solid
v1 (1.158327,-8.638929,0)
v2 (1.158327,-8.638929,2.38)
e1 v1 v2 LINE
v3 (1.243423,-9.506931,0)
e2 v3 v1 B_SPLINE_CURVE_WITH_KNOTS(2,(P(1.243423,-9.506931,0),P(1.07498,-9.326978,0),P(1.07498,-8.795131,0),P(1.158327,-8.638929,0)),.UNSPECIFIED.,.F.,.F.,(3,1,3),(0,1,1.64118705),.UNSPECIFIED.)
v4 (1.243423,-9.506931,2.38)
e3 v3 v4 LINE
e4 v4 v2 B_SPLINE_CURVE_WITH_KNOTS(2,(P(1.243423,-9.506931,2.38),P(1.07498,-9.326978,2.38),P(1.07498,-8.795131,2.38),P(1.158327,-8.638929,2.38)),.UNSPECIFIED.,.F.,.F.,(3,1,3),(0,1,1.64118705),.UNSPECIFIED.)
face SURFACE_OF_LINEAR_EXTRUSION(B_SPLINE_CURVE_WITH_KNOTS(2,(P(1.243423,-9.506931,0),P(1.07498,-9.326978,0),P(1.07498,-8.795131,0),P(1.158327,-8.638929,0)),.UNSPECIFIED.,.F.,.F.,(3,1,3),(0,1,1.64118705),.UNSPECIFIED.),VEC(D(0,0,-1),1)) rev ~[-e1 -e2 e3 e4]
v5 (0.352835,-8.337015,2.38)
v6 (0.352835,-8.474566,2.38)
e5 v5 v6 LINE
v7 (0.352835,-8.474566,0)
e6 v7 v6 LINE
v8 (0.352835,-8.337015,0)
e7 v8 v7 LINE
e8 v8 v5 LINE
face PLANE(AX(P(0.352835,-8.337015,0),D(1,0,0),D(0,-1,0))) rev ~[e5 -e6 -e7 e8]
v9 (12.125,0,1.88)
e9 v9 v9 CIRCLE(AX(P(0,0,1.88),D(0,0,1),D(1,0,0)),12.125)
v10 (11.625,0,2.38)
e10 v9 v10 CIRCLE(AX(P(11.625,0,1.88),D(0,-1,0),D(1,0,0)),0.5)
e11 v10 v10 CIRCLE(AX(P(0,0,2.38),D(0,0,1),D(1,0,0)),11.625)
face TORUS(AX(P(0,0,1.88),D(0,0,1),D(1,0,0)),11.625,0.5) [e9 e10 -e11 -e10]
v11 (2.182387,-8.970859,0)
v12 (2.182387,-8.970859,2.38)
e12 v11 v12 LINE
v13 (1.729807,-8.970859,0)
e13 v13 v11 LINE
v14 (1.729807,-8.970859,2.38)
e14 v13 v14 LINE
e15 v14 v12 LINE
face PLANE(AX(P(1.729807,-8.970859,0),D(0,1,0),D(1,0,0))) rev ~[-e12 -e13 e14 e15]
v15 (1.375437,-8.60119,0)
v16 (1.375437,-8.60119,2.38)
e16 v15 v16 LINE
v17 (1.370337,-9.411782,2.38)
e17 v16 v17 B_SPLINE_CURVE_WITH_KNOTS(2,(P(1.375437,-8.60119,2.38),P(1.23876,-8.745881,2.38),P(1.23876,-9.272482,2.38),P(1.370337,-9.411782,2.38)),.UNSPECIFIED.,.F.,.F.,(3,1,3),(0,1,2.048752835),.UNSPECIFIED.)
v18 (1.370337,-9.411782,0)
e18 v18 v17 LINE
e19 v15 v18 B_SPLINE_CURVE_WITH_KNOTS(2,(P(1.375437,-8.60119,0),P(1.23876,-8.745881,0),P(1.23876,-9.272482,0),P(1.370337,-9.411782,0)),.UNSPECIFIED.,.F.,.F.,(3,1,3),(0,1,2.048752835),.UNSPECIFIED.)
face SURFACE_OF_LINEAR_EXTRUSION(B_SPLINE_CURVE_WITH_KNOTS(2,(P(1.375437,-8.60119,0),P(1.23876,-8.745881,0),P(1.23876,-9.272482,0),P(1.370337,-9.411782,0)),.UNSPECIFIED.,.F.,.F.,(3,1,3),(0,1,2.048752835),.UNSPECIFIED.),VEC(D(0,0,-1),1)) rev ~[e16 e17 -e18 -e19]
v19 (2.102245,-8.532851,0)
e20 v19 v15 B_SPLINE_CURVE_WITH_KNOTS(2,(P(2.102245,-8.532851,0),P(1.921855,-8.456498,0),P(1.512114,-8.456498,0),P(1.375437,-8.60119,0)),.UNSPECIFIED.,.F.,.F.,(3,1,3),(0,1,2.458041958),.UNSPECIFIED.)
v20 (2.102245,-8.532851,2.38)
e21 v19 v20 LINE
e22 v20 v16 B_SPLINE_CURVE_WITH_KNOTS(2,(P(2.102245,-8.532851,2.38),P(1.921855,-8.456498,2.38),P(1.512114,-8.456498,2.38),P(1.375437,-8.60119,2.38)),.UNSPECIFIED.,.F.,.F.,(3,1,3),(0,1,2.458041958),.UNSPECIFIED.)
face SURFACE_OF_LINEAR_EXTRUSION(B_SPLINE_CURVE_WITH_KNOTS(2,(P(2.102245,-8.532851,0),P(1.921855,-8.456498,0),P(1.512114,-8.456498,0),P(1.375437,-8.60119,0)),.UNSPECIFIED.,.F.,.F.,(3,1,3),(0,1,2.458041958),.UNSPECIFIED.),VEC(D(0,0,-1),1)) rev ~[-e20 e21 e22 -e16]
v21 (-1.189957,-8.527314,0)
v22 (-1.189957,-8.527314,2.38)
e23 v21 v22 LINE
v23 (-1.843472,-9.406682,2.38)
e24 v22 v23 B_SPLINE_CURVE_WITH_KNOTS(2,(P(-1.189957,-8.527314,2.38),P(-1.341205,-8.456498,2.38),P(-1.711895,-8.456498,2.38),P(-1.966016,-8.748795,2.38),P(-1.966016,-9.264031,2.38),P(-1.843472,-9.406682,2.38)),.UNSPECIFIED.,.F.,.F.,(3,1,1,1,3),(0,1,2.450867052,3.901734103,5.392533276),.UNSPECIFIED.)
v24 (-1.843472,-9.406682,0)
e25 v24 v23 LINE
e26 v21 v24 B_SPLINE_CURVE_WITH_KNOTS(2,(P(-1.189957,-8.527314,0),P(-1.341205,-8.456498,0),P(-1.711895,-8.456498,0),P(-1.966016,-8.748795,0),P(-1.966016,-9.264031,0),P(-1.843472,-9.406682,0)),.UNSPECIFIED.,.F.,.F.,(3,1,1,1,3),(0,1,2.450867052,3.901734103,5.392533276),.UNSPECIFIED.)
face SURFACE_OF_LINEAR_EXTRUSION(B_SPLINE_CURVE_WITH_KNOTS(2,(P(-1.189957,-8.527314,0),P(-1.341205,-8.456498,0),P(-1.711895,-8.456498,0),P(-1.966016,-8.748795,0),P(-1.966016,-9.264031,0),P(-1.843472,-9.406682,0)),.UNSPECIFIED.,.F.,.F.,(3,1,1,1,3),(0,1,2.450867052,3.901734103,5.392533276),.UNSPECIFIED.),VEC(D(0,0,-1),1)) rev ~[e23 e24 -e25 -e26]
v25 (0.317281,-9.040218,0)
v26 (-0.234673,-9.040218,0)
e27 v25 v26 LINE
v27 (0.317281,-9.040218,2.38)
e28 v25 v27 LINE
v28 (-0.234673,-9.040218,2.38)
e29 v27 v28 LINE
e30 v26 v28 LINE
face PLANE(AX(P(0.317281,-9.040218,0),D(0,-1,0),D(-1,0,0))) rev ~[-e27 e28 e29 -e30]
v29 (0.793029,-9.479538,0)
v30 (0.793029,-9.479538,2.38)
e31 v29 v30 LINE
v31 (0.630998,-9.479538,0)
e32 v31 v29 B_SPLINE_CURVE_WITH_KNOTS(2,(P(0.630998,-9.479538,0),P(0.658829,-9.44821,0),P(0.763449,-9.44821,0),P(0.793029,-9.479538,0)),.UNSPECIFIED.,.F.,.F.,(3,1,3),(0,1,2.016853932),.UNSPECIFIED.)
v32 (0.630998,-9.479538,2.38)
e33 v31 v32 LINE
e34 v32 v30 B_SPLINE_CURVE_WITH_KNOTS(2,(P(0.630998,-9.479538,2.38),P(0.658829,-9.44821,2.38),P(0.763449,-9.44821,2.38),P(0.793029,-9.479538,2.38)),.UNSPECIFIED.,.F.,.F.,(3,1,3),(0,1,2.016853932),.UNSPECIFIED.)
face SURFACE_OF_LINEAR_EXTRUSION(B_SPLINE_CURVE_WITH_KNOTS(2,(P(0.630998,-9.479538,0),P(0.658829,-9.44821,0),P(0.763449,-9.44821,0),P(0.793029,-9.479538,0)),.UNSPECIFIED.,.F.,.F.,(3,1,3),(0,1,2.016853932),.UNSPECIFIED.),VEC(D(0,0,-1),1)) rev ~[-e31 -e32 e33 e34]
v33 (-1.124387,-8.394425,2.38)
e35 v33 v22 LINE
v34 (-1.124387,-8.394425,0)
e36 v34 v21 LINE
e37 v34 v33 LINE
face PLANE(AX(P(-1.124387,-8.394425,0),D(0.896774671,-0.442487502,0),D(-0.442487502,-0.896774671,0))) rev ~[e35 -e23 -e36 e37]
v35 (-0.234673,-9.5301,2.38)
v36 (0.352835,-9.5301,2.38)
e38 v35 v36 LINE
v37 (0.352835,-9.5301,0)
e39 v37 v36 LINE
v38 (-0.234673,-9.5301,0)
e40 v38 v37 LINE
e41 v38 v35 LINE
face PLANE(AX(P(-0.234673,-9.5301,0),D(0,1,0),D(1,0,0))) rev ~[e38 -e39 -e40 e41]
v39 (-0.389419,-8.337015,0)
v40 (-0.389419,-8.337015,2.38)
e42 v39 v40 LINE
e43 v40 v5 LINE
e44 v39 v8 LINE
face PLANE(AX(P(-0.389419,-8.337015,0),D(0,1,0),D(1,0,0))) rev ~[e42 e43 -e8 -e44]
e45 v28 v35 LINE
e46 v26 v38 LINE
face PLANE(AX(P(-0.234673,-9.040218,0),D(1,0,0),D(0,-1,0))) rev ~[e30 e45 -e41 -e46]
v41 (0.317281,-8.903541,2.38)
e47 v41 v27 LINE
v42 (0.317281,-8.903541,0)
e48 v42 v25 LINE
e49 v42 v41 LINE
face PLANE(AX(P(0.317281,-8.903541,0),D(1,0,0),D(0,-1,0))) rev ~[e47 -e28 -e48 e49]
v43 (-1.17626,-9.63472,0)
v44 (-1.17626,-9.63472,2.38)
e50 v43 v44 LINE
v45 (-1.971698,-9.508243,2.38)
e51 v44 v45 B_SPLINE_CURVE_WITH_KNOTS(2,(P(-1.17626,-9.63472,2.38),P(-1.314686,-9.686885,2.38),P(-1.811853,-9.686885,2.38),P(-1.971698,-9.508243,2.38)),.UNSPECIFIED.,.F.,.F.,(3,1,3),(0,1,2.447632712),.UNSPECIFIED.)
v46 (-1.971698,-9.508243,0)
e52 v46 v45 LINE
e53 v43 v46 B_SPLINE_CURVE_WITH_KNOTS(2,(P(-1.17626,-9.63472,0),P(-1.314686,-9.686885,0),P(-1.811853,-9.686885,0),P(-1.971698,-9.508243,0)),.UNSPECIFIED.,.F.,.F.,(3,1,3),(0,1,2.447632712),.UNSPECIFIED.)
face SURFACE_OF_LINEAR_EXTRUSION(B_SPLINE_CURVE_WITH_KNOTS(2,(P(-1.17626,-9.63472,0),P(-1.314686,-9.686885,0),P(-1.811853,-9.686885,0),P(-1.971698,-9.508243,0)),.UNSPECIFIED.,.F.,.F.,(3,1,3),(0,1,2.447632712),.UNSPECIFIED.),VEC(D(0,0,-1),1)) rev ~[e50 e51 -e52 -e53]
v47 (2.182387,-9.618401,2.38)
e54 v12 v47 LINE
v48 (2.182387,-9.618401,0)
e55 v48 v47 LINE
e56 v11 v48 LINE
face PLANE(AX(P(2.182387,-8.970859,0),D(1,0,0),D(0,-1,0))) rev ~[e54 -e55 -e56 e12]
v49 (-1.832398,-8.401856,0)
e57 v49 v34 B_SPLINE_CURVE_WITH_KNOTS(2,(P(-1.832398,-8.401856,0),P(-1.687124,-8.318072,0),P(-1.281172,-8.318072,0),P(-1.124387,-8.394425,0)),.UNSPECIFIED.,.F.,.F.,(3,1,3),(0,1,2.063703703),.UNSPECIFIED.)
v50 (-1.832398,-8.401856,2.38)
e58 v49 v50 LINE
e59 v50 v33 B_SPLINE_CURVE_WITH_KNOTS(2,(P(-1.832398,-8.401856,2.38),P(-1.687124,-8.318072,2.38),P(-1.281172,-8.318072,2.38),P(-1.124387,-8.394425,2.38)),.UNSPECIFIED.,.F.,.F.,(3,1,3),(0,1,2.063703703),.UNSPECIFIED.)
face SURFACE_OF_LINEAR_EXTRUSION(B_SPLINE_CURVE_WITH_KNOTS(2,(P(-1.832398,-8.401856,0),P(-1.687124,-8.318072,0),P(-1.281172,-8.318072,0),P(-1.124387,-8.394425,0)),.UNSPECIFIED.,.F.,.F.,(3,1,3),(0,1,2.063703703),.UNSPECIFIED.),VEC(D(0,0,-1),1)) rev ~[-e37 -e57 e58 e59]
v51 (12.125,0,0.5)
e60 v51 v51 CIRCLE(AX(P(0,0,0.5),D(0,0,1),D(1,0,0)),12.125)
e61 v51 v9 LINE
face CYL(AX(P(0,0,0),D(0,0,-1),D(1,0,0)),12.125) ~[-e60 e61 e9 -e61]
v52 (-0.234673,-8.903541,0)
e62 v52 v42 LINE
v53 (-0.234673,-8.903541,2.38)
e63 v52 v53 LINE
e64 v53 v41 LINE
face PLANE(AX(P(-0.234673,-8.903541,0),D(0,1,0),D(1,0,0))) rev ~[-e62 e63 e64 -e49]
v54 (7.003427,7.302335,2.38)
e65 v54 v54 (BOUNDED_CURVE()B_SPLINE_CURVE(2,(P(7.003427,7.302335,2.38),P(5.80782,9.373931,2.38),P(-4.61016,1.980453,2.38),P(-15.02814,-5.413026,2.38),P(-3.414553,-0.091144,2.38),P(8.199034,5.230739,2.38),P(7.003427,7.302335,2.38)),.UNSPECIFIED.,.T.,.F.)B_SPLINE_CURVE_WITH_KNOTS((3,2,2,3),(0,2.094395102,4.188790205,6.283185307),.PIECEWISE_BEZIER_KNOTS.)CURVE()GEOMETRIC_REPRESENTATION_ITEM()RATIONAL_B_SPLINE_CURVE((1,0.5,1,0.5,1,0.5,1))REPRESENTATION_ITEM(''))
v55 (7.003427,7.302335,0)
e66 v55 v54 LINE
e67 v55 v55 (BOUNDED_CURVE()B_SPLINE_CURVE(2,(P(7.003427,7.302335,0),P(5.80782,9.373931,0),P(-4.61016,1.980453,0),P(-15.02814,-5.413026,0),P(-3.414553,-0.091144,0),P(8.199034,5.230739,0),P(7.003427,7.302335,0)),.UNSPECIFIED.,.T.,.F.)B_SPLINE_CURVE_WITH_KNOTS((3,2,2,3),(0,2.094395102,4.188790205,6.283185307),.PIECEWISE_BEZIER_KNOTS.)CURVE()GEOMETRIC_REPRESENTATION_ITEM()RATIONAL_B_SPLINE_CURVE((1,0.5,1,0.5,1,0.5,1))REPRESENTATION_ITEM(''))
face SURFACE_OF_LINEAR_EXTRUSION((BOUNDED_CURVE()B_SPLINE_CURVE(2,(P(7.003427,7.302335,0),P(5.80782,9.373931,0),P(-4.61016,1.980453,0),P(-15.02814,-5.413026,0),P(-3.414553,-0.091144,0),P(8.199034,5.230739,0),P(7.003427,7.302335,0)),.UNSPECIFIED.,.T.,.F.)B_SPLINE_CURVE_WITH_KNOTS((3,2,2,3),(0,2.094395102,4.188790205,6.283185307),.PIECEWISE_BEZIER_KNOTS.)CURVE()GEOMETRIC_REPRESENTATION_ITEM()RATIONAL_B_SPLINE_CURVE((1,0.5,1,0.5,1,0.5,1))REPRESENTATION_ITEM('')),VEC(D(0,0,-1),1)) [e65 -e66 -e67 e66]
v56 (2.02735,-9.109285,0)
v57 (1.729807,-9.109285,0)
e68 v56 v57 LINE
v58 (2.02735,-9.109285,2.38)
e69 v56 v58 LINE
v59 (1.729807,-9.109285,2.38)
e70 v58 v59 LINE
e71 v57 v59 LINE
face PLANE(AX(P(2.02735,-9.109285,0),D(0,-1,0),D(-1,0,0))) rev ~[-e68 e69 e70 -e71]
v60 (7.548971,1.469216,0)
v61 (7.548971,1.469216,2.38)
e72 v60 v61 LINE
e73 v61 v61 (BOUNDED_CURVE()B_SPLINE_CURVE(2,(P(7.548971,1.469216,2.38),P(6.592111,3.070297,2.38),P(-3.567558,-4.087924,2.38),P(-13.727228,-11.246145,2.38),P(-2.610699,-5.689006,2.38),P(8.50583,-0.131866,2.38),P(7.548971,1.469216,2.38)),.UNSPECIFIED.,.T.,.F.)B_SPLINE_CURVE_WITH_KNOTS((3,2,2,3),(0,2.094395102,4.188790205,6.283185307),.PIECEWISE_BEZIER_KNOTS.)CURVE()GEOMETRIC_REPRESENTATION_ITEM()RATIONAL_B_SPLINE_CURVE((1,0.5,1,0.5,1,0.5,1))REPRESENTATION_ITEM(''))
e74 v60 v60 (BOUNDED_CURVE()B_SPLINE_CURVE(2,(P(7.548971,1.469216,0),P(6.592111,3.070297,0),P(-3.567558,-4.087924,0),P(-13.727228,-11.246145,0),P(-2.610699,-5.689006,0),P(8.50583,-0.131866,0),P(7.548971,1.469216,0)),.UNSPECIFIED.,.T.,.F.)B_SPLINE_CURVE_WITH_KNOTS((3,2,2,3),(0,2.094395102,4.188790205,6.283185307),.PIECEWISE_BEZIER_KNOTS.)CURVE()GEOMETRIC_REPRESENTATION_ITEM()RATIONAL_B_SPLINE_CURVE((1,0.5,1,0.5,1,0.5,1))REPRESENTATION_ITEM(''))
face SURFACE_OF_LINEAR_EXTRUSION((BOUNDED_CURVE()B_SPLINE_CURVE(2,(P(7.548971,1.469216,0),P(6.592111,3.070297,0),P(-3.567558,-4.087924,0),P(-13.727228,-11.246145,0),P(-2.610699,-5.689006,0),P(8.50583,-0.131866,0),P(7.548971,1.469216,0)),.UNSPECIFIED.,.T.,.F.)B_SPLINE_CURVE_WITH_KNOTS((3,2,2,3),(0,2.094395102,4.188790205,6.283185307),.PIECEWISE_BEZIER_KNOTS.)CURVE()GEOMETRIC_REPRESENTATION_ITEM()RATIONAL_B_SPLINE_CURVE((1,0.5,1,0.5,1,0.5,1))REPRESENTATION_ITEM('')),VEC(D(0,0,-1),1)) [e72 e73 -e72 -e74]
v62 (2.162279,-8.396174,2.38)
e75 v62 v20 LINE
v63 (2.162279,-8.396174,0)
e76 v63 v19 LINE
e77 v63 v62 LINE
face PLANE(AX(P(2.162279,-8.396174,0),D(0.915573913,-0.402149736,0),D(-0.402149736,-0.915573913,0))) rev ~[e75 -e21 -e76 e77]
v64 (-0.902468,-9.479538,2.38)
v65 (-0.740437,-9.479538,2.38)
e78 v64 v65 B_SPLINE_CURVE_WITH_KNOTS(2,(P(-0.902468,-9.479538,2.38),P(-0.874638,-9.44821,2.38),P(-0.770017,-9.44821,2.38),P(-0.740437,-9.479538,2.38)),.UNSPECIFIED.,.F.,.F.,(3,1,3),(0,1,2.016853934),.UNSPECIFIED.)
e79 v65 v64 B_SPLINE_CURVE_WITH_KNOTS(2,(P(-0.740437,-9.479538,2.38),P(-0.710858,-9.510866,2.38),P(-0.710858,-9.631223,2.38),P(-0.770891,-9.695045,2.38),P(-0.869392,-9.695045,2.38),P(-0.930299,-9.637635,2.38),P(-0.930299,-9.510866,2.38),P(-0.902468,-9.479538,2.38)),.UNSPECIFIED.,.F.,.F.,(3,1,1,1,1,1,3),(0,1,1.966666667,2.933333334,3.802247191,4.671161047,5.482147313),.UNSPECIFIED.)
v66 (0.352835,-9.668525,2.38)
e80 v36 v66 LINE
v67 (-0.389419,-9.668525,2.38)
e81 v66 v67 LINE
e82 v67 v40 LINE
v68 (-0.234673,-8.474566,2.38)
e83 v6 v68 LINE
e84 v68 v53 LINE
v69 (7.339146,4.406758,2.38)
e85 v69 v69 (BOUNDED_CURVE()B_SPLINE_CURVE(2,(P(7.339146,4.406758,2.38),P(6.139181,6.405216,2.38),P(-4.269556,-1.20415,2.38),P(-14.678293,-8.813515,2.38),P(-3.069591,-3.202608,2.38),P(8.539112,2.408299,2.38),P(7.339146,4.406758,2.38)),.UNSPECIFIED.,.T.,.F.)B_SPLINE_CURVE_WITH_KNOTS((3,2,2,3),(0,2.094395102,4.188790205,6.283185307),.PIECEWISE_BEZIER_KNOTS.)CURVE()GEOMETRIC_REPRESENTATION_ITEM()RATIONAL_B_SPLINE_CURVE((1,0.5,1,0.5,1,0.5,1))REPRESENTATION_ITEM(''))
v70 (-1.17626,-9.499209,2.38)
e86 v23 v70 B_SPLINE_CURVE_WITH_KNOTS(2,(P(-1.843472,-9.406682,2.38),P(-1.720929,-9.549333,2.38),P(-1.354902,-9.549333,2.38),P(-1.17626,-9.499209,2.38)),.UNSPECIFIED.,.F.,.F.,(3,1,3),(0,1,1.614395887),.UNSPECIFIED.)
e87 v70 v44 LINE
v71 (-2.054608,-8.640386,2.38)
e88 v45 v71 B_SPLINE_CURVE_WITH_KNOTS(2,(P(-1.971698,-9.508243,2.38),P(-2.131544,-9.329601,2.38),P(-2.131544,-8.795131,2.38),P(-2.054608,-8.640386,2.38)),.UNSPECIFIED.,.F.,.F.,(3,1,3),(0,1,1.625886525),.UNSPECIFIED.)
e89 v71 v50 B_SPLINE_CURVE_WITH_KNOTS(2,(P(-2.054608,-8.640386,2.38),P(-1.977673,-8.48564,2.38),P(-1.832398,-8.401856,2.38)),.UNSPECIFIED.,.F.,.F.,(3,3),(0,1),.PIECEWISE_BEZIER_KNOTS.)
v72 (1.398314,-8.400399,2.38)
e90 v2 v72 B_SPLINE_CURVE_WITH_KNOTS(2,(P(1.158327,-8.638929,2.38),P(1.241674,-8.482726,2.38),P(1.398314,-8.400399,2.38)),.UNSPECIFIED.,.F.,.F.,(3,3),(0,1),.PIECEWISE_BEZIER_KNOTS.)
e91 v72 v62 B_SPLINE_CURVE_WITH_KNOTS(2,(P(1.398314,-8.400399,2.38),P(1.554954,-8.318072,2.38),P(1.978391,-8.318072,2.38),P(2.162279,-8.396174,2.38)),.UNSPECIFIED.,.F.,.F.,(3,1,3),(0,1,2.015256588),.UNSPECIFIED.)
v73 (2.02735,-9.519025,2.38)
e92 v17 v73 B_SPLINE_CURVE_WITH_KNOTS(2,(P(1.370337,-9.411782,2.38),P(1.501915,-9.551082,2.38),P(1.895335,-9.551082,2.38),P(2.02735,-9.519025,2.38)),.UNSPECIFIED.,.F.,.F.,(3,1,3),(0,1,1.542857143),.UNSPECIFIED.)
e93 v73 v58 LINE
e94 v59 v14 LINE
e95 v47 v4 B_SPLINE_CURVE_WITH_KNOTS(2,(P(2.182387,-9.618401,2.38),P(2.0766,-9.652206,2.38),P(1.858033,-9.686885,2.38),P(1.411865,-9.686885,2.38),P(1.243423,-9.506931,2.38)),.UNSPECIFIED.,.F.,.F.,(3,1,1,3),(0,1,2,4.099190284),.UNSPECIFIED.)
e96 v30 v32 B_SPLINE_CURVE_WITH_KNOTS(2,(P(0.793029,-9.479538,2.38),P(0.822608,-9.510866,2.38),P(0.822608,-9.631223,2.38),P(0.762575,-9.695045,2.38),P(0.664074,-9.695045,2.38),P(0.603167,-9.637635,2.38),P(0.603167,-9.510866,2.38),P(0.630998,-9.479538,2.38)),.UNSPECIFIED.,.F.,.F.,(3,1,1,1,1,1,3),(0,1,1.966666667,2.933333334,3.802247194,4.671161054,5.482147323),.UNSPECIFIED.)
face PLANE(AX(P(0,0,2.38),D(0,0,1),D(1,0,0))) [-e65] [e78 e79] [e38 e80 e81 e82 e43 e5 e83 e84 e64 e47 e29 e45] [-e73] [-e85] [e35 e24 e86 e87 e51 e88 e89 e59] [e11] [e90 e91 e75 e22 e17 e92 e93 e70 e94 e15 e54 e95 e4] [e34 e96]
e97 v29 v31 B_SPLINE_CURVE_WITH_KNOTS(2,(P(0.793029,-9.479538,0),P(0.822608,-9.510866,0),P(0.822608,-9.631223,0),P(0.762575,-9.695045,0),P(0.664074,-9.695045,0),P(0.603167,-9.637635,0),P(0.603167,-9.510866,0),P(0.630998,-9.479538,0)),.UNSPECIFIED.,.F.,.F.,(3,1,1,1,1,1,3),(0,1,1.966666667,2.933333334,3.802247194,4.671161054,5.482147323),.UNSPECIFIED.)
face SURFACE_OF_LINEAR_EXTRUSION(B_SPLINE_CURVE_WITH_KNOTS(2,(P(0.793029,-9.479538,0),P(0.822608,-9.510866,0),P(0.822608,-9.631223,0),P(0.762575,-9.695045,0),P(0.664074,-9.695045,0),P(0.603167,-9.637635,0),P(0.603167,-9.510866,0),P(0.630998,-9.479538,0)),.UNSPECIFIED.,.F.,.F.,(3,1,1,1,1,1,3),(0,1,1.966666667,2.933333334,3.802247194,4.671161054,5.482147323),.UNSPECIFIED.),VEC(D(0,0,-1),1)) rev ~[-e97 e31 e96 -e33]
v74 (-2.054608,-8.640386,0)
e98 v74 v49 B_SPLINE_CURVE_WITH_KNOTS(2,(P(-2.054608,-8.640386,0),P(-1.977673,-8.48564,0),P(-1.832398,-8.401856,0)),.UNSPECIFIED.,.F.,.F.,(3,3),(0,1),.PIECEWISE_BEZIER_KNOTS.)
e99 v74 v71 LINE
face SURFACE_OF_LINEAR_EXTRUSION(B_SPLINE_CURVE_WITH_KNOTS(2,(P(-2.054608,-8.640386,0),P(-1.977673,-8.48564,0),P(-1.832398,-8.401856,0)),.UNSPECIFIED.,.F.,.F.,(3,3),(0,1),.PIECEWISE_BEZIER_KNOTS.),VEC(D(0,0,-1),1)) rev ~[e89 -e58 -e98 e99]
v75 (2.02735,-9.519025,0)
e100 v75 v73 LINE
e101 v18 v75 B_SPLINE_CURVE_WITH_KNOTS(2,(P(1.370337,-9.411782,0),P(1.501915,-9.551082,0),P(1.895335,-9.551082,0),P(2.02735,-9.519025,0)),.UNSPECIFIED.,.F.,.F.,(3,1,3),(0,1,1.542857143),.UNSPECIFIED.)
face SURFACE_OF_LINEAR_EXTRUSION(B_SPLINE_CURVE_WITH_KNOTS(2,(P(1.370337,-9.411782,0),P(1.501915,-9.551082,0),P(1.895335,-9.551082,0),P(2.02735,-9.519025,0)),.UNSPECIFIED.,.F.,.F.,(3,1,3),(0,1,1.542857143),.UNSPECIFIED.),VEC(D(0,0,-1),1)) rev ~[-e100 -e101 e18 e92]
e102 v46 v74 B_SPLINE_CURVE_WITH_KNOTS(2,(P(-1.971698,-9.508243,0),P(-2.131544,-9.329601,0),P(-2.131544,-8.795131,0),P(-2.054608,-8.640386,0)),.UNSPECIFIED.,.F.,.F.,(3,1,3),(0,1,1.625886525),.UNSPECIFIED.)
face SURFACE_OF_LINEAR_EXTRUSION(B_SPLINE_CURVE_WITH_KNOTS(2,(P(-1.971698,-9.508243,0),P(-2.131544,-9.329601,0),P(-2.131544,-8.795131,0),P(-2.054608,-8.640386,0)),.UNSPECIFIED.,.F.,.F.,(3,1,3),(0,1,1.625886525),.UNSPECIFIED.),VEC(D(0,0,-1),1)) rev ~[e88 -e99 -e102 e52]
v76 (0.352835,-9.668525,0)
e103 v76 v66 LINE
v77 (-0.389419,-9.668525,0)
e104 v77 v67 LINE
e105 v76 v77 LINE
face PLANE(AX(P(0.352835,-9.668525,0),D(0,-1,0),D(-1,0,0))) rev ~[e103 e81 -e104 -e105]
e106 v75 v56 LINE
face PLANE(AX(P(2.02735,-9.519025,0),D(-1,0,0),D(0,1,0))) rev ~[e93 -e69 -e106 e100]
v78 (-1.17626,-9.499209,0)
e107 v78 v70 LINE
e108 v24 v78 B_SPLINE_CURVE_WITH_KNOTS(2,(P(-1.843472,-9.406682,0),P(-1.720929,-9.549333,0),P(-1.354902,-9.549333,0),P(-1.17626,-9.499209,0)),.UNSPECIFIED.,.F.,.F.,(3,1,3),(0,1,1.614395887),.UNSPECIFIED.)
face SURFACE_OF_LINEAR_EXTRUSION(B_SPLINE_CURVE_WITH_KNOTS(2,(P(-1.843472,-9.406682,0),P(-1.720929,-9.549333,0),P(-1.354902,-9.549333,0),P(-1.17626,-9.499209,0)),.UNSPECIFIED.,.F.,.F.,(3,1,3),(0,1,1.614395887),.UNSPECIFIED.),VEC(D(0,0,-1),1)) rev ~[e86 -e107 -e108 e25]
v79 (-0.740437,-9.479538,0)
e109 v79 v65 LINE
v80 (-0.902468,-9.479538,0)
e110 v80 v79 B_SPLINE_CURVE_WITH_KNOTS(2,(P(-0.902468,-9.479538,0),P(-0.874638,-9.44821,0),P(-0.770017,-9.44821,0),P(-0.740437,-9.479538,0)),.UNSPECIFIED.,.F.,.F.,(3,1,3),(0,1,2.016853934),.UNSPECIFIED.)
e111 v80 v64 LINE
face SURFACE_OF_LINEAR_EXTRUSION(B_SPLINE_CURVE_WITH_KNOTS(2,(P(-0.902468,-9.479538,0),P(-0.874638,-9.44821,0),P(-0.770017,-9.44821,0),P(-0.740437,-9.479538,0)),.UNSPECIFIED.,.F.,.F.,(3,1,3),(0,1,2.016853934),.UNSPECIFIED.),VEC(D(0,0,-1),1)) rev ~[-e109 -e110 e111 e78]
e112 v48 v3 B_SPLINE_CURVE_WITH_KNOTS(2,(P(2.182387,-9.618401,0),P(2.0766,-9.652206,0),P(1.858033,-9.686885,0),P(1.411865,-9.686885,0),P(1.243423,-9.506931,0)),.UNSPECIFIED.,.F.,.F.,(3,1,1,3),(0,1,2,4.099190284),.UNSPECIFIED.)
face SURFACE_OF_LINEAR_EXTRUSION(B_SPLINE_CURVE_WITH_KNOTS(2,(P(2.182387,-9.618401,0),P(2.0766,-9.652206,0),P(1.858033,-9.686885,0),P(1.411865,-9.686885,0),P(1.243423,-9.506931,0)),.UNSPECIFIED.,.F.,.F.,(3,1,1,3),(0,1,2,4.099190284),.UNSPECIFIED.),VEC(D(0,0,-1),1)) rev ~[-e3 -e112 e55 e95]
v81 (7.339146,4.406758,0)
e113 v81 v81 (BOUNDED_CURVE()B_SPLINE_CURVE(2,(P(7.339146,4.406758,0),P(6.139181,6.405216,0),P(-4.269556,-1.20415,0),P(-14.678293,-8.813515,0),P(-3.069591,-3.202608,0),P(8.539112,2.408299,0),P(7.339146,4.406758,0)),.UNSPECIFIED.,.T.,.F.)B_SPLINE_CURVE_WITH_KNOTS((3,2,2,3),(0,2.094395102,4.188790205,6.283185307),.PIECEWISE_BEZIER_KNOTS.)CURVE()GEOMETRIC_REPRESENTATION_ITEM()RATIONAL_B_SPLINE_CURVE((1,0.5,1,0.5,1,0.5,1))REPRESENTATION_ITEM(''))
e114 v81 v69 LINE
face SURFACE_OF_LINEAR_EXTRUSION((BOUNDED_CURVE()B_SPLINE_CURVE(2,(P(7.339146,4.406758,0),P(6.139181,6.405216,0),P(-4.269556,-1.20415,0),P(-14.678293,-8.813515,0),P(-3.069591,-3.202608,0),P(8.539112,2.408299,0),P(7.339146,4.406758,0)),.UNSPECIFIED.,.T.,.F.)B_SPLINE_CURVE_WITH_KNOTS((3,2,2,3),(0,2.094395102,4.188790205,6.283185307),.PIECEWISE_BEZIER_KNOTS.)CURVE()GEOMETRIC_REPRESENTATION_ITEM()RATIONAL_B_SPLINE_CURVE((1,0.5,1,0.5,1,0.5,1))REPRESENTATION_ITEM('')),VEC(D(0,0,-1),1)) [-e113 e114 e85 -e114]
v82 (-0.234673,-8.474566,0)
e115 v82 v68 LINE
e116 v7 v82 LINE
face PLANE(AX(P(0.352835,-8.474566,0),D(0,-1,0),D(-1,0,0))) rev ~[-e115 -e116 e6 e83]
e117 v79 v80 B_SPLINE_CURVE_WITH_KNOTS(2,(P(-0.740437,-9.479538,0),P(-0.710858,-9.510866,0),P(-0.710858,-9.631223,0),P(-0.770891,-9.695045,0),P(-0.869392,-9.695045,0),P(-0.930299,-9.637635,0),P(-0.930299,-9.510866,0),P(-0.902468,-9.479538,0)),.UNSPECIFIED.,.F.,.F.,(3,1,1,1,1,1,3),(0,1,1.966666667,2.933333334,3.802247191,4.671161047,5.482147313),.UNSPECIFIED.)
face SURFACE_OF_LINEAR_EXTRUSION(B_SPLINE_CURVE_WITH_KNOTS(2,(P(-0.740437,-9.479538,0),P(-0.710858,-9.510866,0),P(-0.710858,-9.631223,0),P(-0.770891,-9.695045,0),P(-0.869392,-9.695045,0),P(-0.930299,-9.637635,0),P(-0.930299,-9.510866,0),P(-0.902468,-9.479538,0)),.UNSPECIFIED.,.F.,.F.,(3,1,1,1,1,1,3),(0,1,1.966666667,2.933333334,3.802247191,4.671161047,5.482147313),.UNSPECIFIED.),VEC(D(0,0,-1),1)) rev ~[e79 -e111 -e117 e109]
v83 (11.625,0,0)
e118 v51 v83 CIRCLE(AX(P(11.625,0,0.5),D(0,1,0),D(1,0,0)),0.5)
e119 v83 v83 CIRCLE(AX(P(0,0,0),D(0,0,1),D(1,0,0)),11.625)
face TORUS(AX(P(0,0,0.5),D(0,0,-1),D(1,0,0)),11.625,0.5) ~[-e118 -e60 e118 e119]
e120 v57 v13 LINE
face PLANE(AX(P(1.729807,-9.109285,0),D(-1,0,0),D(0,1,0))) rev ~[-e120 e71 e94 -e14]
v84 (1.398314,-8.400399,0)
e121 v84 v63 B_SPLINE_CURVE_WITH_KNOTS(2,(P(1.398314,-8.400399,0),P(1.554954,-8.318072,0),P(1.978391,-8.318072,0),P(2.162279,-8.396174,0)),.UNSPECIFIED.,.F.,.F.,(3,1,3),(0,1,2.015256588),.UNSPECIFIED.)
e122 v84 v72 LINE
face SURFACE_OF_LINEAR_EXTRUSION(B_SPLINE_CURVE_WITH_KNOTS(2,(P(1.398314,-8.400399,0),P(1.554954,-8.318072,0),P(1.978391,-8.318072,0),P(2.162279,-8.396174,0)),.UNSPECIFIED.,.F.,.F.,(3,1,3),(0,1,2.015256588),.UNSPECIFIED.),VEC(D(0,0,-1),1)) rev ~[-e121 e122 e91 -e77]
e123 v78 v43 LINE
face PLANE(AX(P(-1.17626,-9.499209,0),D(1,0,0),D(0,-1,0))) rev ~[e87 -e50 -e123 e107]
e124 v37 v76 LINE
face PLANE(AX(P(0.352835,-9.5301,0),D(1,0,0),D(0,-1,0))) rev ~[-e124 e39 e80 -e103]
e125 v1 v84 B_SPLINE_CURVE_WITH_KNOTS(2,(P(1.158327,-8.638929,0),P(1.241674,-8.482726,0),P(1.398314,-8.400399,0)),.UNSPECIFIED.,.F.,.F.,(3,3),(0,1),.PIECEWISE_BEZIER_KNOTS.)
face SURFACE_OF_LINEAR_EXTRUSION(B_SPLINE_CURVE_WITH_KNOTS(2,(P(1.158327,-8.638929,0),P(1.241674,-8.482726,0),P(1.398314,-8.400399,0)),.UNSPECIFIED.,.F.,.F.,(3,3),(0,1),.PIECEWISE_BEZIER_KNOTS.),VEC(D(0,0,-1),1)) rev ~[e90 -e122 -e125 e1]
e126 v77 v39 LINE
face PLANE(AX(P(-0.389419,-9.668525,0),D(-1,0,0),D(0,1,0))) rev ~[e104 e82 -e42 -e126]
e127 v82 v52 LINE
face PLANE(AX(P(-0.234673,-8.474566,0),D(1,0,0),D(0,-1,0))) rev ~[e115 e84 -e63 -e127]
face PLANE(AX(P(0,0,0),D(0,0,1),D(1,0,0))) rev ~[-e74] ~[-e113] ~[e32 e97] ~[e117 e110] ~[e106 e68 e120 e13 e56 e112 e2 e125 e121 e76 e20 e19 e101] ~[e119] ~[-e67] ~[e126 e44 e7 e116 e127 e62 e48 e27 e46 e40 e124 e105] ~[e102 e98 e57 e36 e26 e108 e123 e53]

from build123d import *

# Parameters (mm, degrees)
F1_R     = 12.125
F2_DEPTH = 2.38
F3_R     = 0.5


with BuildPart() as f2:
    # F1 (on Top) → F2 (new body)
    with BuildSketch(Plane.XY):
        Circle(F1_R)
        with BuildLine():
            add(Edge.make_bspline(
                [(-0.8998456912, -9.666339638), (-0.9302993652, -9.6376345003), (-0.9302993652, -9.5720643888)],
                knots=[0, 0, 0, 1, 1, 1], degree=2))
            add(Edge.make_bspline(
                [(-0.9302993652, -9.5720643888), (-0.9302993652, -9.5108656181), (-0.9024684956, -9.479537676)],
                knots=[0, 0, 0, 1, 1, 1], degree=2))
            add(Edge.make_bspline(
                [(-0.9024684956, -9.479537676), (-0.8746376261, -9.4482097338), (-0.8227643824, -9.4482097338)],
                knots=[0, 0, 0, 1, 1, 1], degree=2))
            add(Edge.make_bspline(
                [(-0.8227643824, -9.4482097338), (-0.7700168705, -9.4482097338), (-0.7404374646, -9.479537676)],
                knots=[0, 0, 0, 1, 1, 1], degree=2))
            add(Edge.make_bspline(
                [(-0.7404374646, -9.479537676), (-0.7108580588, -9.5108656181), (-0.7108580588, -9.5720643888)],
                knots=[0, 0, 0, 1, 1, 1], degree=2))
            add(Edge.make_bspline(
                [(-0.7108580588, -9.5720643888), (-0.7108580588, -9.6312232005), (-0.7408745987, -9.6631339881)],
                knots=[0, 0, 0, 1, 1, 1], degree=2))
            add(Edge.make_bspline(
                [(-0.7408745987, -9.6631339881), (-0.7708911386, -9.6950447757), (-0.8227643824, -9.6950447757)],
                knots=[0, 0, 0, 1, 1, 1], degree=2))
            add(Edge.make_bspline(
                [(-0.8227643824, -9.6950447757), (-0.8693920172, -9.6950447757), (-0.8998456912, -9.666339638)],
                knots=[0, 0, 0, 1, 1, 1], degree=2))
        make_face(mode=Mode.SUBTRACT)
        with BuildLine():
            add(Edge.make_bspline(
                [(-1.1899570066, -8.527313946), (-1.3412053971, -8.4564982256), (-1.4924537876, -8.4564982256)],
                knots=[0, 0, 0, 1, 1, 1], degree=2))
            add(Edge.make_bspline(
                [(-1.4924537876, -8.4564982256), (-1.711895094, -8.4564982256), (-1.8389553989, -8.6026467185)],
                knots=[0, 0, 0, 1, 1, 1], degree=2))
            add(Edge.make_bspline(
                [(-1.8389553989, -8.6026467185), (-1.9660157038, -8.7487952114), (-1.9660157038, -9.0029158212)],
                knots=[0, 0, 0, 1, 1, 1], degree=2))
            add(Edge.make_bspline(
                [(-1.9660157038, -9.0029158212), (-1.9660157038, -9.2640305763), (-1.843472451, -9.4066819966)],
                knots=[0, 0, 0, 1, 1, 1], degree=2))
            add(Edge.make_bspline(
                [(-1.843472451, -9.4066819966), (-1.7209291982, -9.5493334168), (-1.4942023239, -9.5493334168)],
                knots=[0, 0, 0, 1, 1, 1], degree=2))
            add(Edge.make_bspline(
                [(-1.4942023239, -9.5493334168), (-1.3549022648, -9.5493334168), (-1.1762601389, -9.4992087094)],
                knots=[0, 0, 0, 1, 1, 1], degree=2))
            Line((-1.1762601389, -9.4992087094), (-1.1762601389, -9.6347202731))
            add(Edge.make_bspline(
                [(-1.1762601389, -9.6347202731), (-1.3146859298, -9.6868849396), (-1.517807564, -9.6868849396)],
                knots=[0, 0, 0, 1, 1, 1], degree=2))
            add(Edge.make_bspline(
                [(-1.517807564, -9.6868849396), (-1.8118530861, -9.6868849396), (-1.9716984467, -9.5082428137)],
                knots=[0, 0, 0, 1, 1, 1], degree=2))
            add(Edge.make_bspline(
                [(-1.9716984467, -9.5082428137), (-2.1315438074, -9.3296006877), (-2.1315438074, -9.0008758622)],
                knots=[0, 0, 0, 1, 1, 1], degree=2))
            add(Edge.make_bspline(
                [(-2.1315438074, -9.0008758622), (-2.1315438074, -8.7951314235), (-2.0546082099, -8.6403859605)],
                knots=[0, 0, 0, 1, 1, 1], degree=2))
            add(Edge.make_bspline(
                [(-2.0546082099, -8.6403859605), (-1.9776726125, -8.4856404974), (-1.8323983877, -8.4018564661)],
                knots=[0, 0, 0, 1, 1, 1], degree=2))
            add(Edge.make_bspline(
                [(-1.8323983877, -8.4018564661), (-1.687124163, -8.3180724347), (-1.4904138285, -8.3180724347)],
                knots=[0, 0, 0, 1, 1, 1], degree=2))
            add(Edge.make_bspline(
                [(-1.4904138285, -8.3180724347), (-1.2811723172, -8.3180724347), (-1.1243868951, -8.3944251868)],
                knots=[0, 0, 0, 1, 1, 1], degree=2))
            Line((-1.1243868951, -8.3944251868), (-1.1899570066, -8.527313946))
        make_face(mode=Mode.SUBTRACT)
        Polygon((0.3528348607, -9.5300995175), (0.3528348607, -9.6685253084), (-0.3894188012, -9.6685253084), (-0.3894188012, -8.3370149114), (0.3528348607, -8.3370149114), (0.3528348607, -8.4745664341), (-0.2346733381, -8.4745664341), (-0.2346733381, -8.9035406745), (0.3172812891, -8.9035406745), (0.3172812891, -9.0402179291), (-0.2346733381, -9.0402179291), (-0.2346733381, -9.5300995175), align=None, mode=Mode.SUBTRACT)
        with BuildLine():
            add(Edge.make_bspline(
                [(0.6336206491, -9.666339638), (0.6031669751, -9.6376345003), (0.6031669751, -9.5720643888)],
                knots=[0, 0, 0, 1, 1, 1], degree=2))
            add(Edge.make_bspline(
                [(0.6031669751, -9.5720643888), (0.6031669751, -9.5108656181), (0.6309978447, -9.479537676)],
                knots=[0, 0, 0, 1, 1, 1], degree=2))
            add(Edge.make_bspline(
                [(0.6309978447, -9.479537676), (0.6588287142, -9.4482097338), (0.710701958, -9.4482097338)],
                knots=[0, 0, 0, 1, 1, 1], degree=2))
            add(Edge.make_bspline(
                [(0.710701958, -9.4482097338), (0.7634494699, -9.4482097338), (0.7930288757, -9.479537676)],
                knots=[0, 0, 0, 1, 1, 1], degree=2))
            add(Edge.make_bspline(
                [(0.7930288757, -9.479537676), (0.8226082815, -9.5108656181), (0.8226082815, -9.5720643888)],
                knots=[0, 0, 0, 1, 1, 1], degree=2))
            add(Edge.make_bspline(
                [(0.8226082815, -9.5720643888), (0.8226082815, -9.6312232005), (0.7925917416, -9.6631339881)],
                knots=[0, 0, 0, 1, 1, 1], degree=2))
            add(Edge.make_bspline(
                [(0.7925917416, -9.6631339881), (0.7625752017, -9.6950447757), (0.710701958, -9.6950447757)],
                knots=[0, 0, 0, 1, 1, 1], degree=2))
            add(Edge.make_bspline(
                [(0.710701958, -9.6950447757), (0.6640743231, -9.6950447757), (0.6336206491, -9.666339638)],
                knots=[0, 0, 0, 1, 1, 1], degree=2))
        make_face(mode=Mode.SUBTRACT)
        with BuildLine():
            Line((1.7298072016, -9.1092851132), (1.7298072016, -8.9708593223))
            Line((1.7298072016, -8.9708593223), (2.1823866822, -8.9708593223))
            Line((2.1823866822, -8.9708593223), (2.1823866822, -9.6184006009))
            add(Edge.make_bspline(
                [(2.1823866822, -9.6184006009), (2.0766002356, -9.6522056362), (1.9673167165, -9.6695452879)],
                knots=[0, 0, 0, 1, 1, 1], degree=2))
            add(Edge.make_bspline(
                [(1.9673167165, -9.6695452879), (1.8580331974, -9.6868849396), (1.7140703749, -9.6868849396)],
                knots=[0, 0, 0, 1, 1, 1], degree=2))
            add(Edge.make_bspline(
                [(1.7140703749, -9.6868849396), (1.4118650167, -9.6868849396), (1.2434226859, -9.5069314114)],
                knots=[0, 0, 0, 1, 1, 1], degree=2))
            add(Edge.make_bspline(
                [(1.2434226859, -9.5069314114), (1.074980355, -9.3269778833), (1.074980355, -9.0029158212)],
                knots=[0, 0, 0, 1, 1, 1], degree=2))
            add(Edge.make_bspline(
                [(1.074980355, -9.0029158212), (1.074980355, -8.7951314235), (1.1583272523, -8.6389288469)],
                knots=[0, 0, 0, 1, 1, 1], degree=2))
            add(Edge.make_bspline(
                [(1.1583272523, -8.6389288469), (1.2416741495, -8.4827262702), (1.3983138603, -8.4003993525)],
                knots=[0, 0, 0, 1, 1, 1], degree=2))
            add(Edge.make_bspline(
                [(1.3983138603, -8.4003993525), (1.554953571, -8.3180724347), (1.7650693505, -8.3180724347)],
                knots=[0, 0, 0, 1, 1, 1], degree=2))
            add(Edge.make_bspline(
                [(1.7650693505, -8.3180724347), (1.9783907798, -8.3180724347), (2.1622785146, -8.3961737231)],
                knots=[0, 0, 0, 1, 1, 1], degree=2))
            Line((2.1622785146, -8.3961737231), (2.1022454348, -8.5328509776))
            add(Edge.make_bspline(
                [(2.1022454348, -8.5328509776), (1.9218547726, -8.4564982256), (1.7551609781, -8.4564982256)],
                knots=[0, 0, 0, 1, 1, 1], degree=2))
            add(Edge.make_bspline(
                [(1.7551609781, -8.4564982256), (1.5121144315, -8.4564982256), (1.375437177, -8.6011896049)],
                knots=[0, 0, 0, 1, 1, 1], degree=2))
            add(Edge.make_bspline(
                [(1.375437177, -8.6011896049), (1.2387599224, -8.7458809843), (1.2387599224, -9.0029158212)],
                knots=[0, 0, 0, 1, 1, 1], degree=2))
            add(Edge.make_bspline(
                [(1.2387599224, -9.0029158212), (1.2387599224, -9.2724818351), (1.3703372794, -9.4117818941)],
                knots=[0, 0, 0, 1, 1, 1], degree=2))
            add(Edge.make_bspline(
                [(1.3703372794, -9.4117818941), (1.5019146364, -9.5510819532), (1.7569095144, -9.5510819532)],
                knots=[0, 0, 0, 1, 1, 1], degree=2))
            add(Edge.make_bspline(
                [(1.7569095144, -9.5510819532), (1.8953353053, -9.5510819532), (2.0273497964, -9.5190254542)],
                knots=[0, 0, 0, 1, 1, 1], degree=2))
            Line((2.0273497964, -9.5190254542), (2.0273497964, -9.1092851132))
            Line((2.0273497964, -9.1092851132), (1.7298072016, -9.1092851132))
        make_face(mode=Mode.SUBTRACT)
        with BuildLine():
            add(Edge.make_bspline(
                [(7.548970636, 1.469215611), (6.5921111767, 3.0702973064), (-3.5675583884, -4.0879240818), (-13.7272279535, -11.2461454701), (-2.6106989291, -5.6890057772), (8.5058300952, -0.1318660844), (7.548970636, 1.469215611)],
                knots=[0, 0, 0, 2.0943951024, 2.0943951024, 4.1887902048, 4.1887902048, 6.2831853072, 6.2831853072, 6.2831853072], degree=2, weights=[1, 0.5, 1, 0.5, 1, 0.5, 1]))
        make_face(mode=Mode.SUBTRACT)
        with BuildLine():
            add(Edge.make_bspline(
                [(7.0034274831, 7.3023349978), (5.8078204716, 9.373931465), (-4.6101599889, 1.9804526909), (-15.0281404494, -5.4130260833), (-3.4145529774, -0.0911437763), (8.1990344946, 5.2307385306), (7.0034274831, 7.3023349978)],
                knots=[0, 0, 0, 2.0943951024, 2.0943951024, 4.1887902048, 4.1887902048, 6.2831853072, 6.2831853072, 6.2831853072], degree=2, weights=[1, 0.5, 1, 0.5, 1, 0.5, 1]))
        make_face(mode=Mode.SUBTRACT)
        with BuildLine():
            add(Edge.make_bspline(
                [(7.3391464539, 4.4067576528), (6.1391810401, 6.4052160671), (-4.2695559338, -1.2041496192), (-14.6782929078, -8.8135153055), (-3.0695905201, -3.2026080335), (8.5391118676, 2.4082992384), (7.3391464539, 4.4067576528)],
                knots=[0, 0, 0, 2.0943951024, 2.0943951024, 4.1887902048, 4.1887902048, 6.2831853072, 6.2831853072, 6.2831853072], degree=2, weights=[1, 0.5, 1, 0.5, 1, 0.5, 1]))
        make_face(mode=Mode.SUBTRACT)
    extrude(amount=F2_DEPTH)

    # F3
    f3_edges = [f2.edges().sort_by_distance(p)[0] for p in [
        (-12.125, 0, 2.38),
        (-12.125, 0, 0),
    ]]
    fillet(f3_edges, radius=F3_R)


solid = f2.part
